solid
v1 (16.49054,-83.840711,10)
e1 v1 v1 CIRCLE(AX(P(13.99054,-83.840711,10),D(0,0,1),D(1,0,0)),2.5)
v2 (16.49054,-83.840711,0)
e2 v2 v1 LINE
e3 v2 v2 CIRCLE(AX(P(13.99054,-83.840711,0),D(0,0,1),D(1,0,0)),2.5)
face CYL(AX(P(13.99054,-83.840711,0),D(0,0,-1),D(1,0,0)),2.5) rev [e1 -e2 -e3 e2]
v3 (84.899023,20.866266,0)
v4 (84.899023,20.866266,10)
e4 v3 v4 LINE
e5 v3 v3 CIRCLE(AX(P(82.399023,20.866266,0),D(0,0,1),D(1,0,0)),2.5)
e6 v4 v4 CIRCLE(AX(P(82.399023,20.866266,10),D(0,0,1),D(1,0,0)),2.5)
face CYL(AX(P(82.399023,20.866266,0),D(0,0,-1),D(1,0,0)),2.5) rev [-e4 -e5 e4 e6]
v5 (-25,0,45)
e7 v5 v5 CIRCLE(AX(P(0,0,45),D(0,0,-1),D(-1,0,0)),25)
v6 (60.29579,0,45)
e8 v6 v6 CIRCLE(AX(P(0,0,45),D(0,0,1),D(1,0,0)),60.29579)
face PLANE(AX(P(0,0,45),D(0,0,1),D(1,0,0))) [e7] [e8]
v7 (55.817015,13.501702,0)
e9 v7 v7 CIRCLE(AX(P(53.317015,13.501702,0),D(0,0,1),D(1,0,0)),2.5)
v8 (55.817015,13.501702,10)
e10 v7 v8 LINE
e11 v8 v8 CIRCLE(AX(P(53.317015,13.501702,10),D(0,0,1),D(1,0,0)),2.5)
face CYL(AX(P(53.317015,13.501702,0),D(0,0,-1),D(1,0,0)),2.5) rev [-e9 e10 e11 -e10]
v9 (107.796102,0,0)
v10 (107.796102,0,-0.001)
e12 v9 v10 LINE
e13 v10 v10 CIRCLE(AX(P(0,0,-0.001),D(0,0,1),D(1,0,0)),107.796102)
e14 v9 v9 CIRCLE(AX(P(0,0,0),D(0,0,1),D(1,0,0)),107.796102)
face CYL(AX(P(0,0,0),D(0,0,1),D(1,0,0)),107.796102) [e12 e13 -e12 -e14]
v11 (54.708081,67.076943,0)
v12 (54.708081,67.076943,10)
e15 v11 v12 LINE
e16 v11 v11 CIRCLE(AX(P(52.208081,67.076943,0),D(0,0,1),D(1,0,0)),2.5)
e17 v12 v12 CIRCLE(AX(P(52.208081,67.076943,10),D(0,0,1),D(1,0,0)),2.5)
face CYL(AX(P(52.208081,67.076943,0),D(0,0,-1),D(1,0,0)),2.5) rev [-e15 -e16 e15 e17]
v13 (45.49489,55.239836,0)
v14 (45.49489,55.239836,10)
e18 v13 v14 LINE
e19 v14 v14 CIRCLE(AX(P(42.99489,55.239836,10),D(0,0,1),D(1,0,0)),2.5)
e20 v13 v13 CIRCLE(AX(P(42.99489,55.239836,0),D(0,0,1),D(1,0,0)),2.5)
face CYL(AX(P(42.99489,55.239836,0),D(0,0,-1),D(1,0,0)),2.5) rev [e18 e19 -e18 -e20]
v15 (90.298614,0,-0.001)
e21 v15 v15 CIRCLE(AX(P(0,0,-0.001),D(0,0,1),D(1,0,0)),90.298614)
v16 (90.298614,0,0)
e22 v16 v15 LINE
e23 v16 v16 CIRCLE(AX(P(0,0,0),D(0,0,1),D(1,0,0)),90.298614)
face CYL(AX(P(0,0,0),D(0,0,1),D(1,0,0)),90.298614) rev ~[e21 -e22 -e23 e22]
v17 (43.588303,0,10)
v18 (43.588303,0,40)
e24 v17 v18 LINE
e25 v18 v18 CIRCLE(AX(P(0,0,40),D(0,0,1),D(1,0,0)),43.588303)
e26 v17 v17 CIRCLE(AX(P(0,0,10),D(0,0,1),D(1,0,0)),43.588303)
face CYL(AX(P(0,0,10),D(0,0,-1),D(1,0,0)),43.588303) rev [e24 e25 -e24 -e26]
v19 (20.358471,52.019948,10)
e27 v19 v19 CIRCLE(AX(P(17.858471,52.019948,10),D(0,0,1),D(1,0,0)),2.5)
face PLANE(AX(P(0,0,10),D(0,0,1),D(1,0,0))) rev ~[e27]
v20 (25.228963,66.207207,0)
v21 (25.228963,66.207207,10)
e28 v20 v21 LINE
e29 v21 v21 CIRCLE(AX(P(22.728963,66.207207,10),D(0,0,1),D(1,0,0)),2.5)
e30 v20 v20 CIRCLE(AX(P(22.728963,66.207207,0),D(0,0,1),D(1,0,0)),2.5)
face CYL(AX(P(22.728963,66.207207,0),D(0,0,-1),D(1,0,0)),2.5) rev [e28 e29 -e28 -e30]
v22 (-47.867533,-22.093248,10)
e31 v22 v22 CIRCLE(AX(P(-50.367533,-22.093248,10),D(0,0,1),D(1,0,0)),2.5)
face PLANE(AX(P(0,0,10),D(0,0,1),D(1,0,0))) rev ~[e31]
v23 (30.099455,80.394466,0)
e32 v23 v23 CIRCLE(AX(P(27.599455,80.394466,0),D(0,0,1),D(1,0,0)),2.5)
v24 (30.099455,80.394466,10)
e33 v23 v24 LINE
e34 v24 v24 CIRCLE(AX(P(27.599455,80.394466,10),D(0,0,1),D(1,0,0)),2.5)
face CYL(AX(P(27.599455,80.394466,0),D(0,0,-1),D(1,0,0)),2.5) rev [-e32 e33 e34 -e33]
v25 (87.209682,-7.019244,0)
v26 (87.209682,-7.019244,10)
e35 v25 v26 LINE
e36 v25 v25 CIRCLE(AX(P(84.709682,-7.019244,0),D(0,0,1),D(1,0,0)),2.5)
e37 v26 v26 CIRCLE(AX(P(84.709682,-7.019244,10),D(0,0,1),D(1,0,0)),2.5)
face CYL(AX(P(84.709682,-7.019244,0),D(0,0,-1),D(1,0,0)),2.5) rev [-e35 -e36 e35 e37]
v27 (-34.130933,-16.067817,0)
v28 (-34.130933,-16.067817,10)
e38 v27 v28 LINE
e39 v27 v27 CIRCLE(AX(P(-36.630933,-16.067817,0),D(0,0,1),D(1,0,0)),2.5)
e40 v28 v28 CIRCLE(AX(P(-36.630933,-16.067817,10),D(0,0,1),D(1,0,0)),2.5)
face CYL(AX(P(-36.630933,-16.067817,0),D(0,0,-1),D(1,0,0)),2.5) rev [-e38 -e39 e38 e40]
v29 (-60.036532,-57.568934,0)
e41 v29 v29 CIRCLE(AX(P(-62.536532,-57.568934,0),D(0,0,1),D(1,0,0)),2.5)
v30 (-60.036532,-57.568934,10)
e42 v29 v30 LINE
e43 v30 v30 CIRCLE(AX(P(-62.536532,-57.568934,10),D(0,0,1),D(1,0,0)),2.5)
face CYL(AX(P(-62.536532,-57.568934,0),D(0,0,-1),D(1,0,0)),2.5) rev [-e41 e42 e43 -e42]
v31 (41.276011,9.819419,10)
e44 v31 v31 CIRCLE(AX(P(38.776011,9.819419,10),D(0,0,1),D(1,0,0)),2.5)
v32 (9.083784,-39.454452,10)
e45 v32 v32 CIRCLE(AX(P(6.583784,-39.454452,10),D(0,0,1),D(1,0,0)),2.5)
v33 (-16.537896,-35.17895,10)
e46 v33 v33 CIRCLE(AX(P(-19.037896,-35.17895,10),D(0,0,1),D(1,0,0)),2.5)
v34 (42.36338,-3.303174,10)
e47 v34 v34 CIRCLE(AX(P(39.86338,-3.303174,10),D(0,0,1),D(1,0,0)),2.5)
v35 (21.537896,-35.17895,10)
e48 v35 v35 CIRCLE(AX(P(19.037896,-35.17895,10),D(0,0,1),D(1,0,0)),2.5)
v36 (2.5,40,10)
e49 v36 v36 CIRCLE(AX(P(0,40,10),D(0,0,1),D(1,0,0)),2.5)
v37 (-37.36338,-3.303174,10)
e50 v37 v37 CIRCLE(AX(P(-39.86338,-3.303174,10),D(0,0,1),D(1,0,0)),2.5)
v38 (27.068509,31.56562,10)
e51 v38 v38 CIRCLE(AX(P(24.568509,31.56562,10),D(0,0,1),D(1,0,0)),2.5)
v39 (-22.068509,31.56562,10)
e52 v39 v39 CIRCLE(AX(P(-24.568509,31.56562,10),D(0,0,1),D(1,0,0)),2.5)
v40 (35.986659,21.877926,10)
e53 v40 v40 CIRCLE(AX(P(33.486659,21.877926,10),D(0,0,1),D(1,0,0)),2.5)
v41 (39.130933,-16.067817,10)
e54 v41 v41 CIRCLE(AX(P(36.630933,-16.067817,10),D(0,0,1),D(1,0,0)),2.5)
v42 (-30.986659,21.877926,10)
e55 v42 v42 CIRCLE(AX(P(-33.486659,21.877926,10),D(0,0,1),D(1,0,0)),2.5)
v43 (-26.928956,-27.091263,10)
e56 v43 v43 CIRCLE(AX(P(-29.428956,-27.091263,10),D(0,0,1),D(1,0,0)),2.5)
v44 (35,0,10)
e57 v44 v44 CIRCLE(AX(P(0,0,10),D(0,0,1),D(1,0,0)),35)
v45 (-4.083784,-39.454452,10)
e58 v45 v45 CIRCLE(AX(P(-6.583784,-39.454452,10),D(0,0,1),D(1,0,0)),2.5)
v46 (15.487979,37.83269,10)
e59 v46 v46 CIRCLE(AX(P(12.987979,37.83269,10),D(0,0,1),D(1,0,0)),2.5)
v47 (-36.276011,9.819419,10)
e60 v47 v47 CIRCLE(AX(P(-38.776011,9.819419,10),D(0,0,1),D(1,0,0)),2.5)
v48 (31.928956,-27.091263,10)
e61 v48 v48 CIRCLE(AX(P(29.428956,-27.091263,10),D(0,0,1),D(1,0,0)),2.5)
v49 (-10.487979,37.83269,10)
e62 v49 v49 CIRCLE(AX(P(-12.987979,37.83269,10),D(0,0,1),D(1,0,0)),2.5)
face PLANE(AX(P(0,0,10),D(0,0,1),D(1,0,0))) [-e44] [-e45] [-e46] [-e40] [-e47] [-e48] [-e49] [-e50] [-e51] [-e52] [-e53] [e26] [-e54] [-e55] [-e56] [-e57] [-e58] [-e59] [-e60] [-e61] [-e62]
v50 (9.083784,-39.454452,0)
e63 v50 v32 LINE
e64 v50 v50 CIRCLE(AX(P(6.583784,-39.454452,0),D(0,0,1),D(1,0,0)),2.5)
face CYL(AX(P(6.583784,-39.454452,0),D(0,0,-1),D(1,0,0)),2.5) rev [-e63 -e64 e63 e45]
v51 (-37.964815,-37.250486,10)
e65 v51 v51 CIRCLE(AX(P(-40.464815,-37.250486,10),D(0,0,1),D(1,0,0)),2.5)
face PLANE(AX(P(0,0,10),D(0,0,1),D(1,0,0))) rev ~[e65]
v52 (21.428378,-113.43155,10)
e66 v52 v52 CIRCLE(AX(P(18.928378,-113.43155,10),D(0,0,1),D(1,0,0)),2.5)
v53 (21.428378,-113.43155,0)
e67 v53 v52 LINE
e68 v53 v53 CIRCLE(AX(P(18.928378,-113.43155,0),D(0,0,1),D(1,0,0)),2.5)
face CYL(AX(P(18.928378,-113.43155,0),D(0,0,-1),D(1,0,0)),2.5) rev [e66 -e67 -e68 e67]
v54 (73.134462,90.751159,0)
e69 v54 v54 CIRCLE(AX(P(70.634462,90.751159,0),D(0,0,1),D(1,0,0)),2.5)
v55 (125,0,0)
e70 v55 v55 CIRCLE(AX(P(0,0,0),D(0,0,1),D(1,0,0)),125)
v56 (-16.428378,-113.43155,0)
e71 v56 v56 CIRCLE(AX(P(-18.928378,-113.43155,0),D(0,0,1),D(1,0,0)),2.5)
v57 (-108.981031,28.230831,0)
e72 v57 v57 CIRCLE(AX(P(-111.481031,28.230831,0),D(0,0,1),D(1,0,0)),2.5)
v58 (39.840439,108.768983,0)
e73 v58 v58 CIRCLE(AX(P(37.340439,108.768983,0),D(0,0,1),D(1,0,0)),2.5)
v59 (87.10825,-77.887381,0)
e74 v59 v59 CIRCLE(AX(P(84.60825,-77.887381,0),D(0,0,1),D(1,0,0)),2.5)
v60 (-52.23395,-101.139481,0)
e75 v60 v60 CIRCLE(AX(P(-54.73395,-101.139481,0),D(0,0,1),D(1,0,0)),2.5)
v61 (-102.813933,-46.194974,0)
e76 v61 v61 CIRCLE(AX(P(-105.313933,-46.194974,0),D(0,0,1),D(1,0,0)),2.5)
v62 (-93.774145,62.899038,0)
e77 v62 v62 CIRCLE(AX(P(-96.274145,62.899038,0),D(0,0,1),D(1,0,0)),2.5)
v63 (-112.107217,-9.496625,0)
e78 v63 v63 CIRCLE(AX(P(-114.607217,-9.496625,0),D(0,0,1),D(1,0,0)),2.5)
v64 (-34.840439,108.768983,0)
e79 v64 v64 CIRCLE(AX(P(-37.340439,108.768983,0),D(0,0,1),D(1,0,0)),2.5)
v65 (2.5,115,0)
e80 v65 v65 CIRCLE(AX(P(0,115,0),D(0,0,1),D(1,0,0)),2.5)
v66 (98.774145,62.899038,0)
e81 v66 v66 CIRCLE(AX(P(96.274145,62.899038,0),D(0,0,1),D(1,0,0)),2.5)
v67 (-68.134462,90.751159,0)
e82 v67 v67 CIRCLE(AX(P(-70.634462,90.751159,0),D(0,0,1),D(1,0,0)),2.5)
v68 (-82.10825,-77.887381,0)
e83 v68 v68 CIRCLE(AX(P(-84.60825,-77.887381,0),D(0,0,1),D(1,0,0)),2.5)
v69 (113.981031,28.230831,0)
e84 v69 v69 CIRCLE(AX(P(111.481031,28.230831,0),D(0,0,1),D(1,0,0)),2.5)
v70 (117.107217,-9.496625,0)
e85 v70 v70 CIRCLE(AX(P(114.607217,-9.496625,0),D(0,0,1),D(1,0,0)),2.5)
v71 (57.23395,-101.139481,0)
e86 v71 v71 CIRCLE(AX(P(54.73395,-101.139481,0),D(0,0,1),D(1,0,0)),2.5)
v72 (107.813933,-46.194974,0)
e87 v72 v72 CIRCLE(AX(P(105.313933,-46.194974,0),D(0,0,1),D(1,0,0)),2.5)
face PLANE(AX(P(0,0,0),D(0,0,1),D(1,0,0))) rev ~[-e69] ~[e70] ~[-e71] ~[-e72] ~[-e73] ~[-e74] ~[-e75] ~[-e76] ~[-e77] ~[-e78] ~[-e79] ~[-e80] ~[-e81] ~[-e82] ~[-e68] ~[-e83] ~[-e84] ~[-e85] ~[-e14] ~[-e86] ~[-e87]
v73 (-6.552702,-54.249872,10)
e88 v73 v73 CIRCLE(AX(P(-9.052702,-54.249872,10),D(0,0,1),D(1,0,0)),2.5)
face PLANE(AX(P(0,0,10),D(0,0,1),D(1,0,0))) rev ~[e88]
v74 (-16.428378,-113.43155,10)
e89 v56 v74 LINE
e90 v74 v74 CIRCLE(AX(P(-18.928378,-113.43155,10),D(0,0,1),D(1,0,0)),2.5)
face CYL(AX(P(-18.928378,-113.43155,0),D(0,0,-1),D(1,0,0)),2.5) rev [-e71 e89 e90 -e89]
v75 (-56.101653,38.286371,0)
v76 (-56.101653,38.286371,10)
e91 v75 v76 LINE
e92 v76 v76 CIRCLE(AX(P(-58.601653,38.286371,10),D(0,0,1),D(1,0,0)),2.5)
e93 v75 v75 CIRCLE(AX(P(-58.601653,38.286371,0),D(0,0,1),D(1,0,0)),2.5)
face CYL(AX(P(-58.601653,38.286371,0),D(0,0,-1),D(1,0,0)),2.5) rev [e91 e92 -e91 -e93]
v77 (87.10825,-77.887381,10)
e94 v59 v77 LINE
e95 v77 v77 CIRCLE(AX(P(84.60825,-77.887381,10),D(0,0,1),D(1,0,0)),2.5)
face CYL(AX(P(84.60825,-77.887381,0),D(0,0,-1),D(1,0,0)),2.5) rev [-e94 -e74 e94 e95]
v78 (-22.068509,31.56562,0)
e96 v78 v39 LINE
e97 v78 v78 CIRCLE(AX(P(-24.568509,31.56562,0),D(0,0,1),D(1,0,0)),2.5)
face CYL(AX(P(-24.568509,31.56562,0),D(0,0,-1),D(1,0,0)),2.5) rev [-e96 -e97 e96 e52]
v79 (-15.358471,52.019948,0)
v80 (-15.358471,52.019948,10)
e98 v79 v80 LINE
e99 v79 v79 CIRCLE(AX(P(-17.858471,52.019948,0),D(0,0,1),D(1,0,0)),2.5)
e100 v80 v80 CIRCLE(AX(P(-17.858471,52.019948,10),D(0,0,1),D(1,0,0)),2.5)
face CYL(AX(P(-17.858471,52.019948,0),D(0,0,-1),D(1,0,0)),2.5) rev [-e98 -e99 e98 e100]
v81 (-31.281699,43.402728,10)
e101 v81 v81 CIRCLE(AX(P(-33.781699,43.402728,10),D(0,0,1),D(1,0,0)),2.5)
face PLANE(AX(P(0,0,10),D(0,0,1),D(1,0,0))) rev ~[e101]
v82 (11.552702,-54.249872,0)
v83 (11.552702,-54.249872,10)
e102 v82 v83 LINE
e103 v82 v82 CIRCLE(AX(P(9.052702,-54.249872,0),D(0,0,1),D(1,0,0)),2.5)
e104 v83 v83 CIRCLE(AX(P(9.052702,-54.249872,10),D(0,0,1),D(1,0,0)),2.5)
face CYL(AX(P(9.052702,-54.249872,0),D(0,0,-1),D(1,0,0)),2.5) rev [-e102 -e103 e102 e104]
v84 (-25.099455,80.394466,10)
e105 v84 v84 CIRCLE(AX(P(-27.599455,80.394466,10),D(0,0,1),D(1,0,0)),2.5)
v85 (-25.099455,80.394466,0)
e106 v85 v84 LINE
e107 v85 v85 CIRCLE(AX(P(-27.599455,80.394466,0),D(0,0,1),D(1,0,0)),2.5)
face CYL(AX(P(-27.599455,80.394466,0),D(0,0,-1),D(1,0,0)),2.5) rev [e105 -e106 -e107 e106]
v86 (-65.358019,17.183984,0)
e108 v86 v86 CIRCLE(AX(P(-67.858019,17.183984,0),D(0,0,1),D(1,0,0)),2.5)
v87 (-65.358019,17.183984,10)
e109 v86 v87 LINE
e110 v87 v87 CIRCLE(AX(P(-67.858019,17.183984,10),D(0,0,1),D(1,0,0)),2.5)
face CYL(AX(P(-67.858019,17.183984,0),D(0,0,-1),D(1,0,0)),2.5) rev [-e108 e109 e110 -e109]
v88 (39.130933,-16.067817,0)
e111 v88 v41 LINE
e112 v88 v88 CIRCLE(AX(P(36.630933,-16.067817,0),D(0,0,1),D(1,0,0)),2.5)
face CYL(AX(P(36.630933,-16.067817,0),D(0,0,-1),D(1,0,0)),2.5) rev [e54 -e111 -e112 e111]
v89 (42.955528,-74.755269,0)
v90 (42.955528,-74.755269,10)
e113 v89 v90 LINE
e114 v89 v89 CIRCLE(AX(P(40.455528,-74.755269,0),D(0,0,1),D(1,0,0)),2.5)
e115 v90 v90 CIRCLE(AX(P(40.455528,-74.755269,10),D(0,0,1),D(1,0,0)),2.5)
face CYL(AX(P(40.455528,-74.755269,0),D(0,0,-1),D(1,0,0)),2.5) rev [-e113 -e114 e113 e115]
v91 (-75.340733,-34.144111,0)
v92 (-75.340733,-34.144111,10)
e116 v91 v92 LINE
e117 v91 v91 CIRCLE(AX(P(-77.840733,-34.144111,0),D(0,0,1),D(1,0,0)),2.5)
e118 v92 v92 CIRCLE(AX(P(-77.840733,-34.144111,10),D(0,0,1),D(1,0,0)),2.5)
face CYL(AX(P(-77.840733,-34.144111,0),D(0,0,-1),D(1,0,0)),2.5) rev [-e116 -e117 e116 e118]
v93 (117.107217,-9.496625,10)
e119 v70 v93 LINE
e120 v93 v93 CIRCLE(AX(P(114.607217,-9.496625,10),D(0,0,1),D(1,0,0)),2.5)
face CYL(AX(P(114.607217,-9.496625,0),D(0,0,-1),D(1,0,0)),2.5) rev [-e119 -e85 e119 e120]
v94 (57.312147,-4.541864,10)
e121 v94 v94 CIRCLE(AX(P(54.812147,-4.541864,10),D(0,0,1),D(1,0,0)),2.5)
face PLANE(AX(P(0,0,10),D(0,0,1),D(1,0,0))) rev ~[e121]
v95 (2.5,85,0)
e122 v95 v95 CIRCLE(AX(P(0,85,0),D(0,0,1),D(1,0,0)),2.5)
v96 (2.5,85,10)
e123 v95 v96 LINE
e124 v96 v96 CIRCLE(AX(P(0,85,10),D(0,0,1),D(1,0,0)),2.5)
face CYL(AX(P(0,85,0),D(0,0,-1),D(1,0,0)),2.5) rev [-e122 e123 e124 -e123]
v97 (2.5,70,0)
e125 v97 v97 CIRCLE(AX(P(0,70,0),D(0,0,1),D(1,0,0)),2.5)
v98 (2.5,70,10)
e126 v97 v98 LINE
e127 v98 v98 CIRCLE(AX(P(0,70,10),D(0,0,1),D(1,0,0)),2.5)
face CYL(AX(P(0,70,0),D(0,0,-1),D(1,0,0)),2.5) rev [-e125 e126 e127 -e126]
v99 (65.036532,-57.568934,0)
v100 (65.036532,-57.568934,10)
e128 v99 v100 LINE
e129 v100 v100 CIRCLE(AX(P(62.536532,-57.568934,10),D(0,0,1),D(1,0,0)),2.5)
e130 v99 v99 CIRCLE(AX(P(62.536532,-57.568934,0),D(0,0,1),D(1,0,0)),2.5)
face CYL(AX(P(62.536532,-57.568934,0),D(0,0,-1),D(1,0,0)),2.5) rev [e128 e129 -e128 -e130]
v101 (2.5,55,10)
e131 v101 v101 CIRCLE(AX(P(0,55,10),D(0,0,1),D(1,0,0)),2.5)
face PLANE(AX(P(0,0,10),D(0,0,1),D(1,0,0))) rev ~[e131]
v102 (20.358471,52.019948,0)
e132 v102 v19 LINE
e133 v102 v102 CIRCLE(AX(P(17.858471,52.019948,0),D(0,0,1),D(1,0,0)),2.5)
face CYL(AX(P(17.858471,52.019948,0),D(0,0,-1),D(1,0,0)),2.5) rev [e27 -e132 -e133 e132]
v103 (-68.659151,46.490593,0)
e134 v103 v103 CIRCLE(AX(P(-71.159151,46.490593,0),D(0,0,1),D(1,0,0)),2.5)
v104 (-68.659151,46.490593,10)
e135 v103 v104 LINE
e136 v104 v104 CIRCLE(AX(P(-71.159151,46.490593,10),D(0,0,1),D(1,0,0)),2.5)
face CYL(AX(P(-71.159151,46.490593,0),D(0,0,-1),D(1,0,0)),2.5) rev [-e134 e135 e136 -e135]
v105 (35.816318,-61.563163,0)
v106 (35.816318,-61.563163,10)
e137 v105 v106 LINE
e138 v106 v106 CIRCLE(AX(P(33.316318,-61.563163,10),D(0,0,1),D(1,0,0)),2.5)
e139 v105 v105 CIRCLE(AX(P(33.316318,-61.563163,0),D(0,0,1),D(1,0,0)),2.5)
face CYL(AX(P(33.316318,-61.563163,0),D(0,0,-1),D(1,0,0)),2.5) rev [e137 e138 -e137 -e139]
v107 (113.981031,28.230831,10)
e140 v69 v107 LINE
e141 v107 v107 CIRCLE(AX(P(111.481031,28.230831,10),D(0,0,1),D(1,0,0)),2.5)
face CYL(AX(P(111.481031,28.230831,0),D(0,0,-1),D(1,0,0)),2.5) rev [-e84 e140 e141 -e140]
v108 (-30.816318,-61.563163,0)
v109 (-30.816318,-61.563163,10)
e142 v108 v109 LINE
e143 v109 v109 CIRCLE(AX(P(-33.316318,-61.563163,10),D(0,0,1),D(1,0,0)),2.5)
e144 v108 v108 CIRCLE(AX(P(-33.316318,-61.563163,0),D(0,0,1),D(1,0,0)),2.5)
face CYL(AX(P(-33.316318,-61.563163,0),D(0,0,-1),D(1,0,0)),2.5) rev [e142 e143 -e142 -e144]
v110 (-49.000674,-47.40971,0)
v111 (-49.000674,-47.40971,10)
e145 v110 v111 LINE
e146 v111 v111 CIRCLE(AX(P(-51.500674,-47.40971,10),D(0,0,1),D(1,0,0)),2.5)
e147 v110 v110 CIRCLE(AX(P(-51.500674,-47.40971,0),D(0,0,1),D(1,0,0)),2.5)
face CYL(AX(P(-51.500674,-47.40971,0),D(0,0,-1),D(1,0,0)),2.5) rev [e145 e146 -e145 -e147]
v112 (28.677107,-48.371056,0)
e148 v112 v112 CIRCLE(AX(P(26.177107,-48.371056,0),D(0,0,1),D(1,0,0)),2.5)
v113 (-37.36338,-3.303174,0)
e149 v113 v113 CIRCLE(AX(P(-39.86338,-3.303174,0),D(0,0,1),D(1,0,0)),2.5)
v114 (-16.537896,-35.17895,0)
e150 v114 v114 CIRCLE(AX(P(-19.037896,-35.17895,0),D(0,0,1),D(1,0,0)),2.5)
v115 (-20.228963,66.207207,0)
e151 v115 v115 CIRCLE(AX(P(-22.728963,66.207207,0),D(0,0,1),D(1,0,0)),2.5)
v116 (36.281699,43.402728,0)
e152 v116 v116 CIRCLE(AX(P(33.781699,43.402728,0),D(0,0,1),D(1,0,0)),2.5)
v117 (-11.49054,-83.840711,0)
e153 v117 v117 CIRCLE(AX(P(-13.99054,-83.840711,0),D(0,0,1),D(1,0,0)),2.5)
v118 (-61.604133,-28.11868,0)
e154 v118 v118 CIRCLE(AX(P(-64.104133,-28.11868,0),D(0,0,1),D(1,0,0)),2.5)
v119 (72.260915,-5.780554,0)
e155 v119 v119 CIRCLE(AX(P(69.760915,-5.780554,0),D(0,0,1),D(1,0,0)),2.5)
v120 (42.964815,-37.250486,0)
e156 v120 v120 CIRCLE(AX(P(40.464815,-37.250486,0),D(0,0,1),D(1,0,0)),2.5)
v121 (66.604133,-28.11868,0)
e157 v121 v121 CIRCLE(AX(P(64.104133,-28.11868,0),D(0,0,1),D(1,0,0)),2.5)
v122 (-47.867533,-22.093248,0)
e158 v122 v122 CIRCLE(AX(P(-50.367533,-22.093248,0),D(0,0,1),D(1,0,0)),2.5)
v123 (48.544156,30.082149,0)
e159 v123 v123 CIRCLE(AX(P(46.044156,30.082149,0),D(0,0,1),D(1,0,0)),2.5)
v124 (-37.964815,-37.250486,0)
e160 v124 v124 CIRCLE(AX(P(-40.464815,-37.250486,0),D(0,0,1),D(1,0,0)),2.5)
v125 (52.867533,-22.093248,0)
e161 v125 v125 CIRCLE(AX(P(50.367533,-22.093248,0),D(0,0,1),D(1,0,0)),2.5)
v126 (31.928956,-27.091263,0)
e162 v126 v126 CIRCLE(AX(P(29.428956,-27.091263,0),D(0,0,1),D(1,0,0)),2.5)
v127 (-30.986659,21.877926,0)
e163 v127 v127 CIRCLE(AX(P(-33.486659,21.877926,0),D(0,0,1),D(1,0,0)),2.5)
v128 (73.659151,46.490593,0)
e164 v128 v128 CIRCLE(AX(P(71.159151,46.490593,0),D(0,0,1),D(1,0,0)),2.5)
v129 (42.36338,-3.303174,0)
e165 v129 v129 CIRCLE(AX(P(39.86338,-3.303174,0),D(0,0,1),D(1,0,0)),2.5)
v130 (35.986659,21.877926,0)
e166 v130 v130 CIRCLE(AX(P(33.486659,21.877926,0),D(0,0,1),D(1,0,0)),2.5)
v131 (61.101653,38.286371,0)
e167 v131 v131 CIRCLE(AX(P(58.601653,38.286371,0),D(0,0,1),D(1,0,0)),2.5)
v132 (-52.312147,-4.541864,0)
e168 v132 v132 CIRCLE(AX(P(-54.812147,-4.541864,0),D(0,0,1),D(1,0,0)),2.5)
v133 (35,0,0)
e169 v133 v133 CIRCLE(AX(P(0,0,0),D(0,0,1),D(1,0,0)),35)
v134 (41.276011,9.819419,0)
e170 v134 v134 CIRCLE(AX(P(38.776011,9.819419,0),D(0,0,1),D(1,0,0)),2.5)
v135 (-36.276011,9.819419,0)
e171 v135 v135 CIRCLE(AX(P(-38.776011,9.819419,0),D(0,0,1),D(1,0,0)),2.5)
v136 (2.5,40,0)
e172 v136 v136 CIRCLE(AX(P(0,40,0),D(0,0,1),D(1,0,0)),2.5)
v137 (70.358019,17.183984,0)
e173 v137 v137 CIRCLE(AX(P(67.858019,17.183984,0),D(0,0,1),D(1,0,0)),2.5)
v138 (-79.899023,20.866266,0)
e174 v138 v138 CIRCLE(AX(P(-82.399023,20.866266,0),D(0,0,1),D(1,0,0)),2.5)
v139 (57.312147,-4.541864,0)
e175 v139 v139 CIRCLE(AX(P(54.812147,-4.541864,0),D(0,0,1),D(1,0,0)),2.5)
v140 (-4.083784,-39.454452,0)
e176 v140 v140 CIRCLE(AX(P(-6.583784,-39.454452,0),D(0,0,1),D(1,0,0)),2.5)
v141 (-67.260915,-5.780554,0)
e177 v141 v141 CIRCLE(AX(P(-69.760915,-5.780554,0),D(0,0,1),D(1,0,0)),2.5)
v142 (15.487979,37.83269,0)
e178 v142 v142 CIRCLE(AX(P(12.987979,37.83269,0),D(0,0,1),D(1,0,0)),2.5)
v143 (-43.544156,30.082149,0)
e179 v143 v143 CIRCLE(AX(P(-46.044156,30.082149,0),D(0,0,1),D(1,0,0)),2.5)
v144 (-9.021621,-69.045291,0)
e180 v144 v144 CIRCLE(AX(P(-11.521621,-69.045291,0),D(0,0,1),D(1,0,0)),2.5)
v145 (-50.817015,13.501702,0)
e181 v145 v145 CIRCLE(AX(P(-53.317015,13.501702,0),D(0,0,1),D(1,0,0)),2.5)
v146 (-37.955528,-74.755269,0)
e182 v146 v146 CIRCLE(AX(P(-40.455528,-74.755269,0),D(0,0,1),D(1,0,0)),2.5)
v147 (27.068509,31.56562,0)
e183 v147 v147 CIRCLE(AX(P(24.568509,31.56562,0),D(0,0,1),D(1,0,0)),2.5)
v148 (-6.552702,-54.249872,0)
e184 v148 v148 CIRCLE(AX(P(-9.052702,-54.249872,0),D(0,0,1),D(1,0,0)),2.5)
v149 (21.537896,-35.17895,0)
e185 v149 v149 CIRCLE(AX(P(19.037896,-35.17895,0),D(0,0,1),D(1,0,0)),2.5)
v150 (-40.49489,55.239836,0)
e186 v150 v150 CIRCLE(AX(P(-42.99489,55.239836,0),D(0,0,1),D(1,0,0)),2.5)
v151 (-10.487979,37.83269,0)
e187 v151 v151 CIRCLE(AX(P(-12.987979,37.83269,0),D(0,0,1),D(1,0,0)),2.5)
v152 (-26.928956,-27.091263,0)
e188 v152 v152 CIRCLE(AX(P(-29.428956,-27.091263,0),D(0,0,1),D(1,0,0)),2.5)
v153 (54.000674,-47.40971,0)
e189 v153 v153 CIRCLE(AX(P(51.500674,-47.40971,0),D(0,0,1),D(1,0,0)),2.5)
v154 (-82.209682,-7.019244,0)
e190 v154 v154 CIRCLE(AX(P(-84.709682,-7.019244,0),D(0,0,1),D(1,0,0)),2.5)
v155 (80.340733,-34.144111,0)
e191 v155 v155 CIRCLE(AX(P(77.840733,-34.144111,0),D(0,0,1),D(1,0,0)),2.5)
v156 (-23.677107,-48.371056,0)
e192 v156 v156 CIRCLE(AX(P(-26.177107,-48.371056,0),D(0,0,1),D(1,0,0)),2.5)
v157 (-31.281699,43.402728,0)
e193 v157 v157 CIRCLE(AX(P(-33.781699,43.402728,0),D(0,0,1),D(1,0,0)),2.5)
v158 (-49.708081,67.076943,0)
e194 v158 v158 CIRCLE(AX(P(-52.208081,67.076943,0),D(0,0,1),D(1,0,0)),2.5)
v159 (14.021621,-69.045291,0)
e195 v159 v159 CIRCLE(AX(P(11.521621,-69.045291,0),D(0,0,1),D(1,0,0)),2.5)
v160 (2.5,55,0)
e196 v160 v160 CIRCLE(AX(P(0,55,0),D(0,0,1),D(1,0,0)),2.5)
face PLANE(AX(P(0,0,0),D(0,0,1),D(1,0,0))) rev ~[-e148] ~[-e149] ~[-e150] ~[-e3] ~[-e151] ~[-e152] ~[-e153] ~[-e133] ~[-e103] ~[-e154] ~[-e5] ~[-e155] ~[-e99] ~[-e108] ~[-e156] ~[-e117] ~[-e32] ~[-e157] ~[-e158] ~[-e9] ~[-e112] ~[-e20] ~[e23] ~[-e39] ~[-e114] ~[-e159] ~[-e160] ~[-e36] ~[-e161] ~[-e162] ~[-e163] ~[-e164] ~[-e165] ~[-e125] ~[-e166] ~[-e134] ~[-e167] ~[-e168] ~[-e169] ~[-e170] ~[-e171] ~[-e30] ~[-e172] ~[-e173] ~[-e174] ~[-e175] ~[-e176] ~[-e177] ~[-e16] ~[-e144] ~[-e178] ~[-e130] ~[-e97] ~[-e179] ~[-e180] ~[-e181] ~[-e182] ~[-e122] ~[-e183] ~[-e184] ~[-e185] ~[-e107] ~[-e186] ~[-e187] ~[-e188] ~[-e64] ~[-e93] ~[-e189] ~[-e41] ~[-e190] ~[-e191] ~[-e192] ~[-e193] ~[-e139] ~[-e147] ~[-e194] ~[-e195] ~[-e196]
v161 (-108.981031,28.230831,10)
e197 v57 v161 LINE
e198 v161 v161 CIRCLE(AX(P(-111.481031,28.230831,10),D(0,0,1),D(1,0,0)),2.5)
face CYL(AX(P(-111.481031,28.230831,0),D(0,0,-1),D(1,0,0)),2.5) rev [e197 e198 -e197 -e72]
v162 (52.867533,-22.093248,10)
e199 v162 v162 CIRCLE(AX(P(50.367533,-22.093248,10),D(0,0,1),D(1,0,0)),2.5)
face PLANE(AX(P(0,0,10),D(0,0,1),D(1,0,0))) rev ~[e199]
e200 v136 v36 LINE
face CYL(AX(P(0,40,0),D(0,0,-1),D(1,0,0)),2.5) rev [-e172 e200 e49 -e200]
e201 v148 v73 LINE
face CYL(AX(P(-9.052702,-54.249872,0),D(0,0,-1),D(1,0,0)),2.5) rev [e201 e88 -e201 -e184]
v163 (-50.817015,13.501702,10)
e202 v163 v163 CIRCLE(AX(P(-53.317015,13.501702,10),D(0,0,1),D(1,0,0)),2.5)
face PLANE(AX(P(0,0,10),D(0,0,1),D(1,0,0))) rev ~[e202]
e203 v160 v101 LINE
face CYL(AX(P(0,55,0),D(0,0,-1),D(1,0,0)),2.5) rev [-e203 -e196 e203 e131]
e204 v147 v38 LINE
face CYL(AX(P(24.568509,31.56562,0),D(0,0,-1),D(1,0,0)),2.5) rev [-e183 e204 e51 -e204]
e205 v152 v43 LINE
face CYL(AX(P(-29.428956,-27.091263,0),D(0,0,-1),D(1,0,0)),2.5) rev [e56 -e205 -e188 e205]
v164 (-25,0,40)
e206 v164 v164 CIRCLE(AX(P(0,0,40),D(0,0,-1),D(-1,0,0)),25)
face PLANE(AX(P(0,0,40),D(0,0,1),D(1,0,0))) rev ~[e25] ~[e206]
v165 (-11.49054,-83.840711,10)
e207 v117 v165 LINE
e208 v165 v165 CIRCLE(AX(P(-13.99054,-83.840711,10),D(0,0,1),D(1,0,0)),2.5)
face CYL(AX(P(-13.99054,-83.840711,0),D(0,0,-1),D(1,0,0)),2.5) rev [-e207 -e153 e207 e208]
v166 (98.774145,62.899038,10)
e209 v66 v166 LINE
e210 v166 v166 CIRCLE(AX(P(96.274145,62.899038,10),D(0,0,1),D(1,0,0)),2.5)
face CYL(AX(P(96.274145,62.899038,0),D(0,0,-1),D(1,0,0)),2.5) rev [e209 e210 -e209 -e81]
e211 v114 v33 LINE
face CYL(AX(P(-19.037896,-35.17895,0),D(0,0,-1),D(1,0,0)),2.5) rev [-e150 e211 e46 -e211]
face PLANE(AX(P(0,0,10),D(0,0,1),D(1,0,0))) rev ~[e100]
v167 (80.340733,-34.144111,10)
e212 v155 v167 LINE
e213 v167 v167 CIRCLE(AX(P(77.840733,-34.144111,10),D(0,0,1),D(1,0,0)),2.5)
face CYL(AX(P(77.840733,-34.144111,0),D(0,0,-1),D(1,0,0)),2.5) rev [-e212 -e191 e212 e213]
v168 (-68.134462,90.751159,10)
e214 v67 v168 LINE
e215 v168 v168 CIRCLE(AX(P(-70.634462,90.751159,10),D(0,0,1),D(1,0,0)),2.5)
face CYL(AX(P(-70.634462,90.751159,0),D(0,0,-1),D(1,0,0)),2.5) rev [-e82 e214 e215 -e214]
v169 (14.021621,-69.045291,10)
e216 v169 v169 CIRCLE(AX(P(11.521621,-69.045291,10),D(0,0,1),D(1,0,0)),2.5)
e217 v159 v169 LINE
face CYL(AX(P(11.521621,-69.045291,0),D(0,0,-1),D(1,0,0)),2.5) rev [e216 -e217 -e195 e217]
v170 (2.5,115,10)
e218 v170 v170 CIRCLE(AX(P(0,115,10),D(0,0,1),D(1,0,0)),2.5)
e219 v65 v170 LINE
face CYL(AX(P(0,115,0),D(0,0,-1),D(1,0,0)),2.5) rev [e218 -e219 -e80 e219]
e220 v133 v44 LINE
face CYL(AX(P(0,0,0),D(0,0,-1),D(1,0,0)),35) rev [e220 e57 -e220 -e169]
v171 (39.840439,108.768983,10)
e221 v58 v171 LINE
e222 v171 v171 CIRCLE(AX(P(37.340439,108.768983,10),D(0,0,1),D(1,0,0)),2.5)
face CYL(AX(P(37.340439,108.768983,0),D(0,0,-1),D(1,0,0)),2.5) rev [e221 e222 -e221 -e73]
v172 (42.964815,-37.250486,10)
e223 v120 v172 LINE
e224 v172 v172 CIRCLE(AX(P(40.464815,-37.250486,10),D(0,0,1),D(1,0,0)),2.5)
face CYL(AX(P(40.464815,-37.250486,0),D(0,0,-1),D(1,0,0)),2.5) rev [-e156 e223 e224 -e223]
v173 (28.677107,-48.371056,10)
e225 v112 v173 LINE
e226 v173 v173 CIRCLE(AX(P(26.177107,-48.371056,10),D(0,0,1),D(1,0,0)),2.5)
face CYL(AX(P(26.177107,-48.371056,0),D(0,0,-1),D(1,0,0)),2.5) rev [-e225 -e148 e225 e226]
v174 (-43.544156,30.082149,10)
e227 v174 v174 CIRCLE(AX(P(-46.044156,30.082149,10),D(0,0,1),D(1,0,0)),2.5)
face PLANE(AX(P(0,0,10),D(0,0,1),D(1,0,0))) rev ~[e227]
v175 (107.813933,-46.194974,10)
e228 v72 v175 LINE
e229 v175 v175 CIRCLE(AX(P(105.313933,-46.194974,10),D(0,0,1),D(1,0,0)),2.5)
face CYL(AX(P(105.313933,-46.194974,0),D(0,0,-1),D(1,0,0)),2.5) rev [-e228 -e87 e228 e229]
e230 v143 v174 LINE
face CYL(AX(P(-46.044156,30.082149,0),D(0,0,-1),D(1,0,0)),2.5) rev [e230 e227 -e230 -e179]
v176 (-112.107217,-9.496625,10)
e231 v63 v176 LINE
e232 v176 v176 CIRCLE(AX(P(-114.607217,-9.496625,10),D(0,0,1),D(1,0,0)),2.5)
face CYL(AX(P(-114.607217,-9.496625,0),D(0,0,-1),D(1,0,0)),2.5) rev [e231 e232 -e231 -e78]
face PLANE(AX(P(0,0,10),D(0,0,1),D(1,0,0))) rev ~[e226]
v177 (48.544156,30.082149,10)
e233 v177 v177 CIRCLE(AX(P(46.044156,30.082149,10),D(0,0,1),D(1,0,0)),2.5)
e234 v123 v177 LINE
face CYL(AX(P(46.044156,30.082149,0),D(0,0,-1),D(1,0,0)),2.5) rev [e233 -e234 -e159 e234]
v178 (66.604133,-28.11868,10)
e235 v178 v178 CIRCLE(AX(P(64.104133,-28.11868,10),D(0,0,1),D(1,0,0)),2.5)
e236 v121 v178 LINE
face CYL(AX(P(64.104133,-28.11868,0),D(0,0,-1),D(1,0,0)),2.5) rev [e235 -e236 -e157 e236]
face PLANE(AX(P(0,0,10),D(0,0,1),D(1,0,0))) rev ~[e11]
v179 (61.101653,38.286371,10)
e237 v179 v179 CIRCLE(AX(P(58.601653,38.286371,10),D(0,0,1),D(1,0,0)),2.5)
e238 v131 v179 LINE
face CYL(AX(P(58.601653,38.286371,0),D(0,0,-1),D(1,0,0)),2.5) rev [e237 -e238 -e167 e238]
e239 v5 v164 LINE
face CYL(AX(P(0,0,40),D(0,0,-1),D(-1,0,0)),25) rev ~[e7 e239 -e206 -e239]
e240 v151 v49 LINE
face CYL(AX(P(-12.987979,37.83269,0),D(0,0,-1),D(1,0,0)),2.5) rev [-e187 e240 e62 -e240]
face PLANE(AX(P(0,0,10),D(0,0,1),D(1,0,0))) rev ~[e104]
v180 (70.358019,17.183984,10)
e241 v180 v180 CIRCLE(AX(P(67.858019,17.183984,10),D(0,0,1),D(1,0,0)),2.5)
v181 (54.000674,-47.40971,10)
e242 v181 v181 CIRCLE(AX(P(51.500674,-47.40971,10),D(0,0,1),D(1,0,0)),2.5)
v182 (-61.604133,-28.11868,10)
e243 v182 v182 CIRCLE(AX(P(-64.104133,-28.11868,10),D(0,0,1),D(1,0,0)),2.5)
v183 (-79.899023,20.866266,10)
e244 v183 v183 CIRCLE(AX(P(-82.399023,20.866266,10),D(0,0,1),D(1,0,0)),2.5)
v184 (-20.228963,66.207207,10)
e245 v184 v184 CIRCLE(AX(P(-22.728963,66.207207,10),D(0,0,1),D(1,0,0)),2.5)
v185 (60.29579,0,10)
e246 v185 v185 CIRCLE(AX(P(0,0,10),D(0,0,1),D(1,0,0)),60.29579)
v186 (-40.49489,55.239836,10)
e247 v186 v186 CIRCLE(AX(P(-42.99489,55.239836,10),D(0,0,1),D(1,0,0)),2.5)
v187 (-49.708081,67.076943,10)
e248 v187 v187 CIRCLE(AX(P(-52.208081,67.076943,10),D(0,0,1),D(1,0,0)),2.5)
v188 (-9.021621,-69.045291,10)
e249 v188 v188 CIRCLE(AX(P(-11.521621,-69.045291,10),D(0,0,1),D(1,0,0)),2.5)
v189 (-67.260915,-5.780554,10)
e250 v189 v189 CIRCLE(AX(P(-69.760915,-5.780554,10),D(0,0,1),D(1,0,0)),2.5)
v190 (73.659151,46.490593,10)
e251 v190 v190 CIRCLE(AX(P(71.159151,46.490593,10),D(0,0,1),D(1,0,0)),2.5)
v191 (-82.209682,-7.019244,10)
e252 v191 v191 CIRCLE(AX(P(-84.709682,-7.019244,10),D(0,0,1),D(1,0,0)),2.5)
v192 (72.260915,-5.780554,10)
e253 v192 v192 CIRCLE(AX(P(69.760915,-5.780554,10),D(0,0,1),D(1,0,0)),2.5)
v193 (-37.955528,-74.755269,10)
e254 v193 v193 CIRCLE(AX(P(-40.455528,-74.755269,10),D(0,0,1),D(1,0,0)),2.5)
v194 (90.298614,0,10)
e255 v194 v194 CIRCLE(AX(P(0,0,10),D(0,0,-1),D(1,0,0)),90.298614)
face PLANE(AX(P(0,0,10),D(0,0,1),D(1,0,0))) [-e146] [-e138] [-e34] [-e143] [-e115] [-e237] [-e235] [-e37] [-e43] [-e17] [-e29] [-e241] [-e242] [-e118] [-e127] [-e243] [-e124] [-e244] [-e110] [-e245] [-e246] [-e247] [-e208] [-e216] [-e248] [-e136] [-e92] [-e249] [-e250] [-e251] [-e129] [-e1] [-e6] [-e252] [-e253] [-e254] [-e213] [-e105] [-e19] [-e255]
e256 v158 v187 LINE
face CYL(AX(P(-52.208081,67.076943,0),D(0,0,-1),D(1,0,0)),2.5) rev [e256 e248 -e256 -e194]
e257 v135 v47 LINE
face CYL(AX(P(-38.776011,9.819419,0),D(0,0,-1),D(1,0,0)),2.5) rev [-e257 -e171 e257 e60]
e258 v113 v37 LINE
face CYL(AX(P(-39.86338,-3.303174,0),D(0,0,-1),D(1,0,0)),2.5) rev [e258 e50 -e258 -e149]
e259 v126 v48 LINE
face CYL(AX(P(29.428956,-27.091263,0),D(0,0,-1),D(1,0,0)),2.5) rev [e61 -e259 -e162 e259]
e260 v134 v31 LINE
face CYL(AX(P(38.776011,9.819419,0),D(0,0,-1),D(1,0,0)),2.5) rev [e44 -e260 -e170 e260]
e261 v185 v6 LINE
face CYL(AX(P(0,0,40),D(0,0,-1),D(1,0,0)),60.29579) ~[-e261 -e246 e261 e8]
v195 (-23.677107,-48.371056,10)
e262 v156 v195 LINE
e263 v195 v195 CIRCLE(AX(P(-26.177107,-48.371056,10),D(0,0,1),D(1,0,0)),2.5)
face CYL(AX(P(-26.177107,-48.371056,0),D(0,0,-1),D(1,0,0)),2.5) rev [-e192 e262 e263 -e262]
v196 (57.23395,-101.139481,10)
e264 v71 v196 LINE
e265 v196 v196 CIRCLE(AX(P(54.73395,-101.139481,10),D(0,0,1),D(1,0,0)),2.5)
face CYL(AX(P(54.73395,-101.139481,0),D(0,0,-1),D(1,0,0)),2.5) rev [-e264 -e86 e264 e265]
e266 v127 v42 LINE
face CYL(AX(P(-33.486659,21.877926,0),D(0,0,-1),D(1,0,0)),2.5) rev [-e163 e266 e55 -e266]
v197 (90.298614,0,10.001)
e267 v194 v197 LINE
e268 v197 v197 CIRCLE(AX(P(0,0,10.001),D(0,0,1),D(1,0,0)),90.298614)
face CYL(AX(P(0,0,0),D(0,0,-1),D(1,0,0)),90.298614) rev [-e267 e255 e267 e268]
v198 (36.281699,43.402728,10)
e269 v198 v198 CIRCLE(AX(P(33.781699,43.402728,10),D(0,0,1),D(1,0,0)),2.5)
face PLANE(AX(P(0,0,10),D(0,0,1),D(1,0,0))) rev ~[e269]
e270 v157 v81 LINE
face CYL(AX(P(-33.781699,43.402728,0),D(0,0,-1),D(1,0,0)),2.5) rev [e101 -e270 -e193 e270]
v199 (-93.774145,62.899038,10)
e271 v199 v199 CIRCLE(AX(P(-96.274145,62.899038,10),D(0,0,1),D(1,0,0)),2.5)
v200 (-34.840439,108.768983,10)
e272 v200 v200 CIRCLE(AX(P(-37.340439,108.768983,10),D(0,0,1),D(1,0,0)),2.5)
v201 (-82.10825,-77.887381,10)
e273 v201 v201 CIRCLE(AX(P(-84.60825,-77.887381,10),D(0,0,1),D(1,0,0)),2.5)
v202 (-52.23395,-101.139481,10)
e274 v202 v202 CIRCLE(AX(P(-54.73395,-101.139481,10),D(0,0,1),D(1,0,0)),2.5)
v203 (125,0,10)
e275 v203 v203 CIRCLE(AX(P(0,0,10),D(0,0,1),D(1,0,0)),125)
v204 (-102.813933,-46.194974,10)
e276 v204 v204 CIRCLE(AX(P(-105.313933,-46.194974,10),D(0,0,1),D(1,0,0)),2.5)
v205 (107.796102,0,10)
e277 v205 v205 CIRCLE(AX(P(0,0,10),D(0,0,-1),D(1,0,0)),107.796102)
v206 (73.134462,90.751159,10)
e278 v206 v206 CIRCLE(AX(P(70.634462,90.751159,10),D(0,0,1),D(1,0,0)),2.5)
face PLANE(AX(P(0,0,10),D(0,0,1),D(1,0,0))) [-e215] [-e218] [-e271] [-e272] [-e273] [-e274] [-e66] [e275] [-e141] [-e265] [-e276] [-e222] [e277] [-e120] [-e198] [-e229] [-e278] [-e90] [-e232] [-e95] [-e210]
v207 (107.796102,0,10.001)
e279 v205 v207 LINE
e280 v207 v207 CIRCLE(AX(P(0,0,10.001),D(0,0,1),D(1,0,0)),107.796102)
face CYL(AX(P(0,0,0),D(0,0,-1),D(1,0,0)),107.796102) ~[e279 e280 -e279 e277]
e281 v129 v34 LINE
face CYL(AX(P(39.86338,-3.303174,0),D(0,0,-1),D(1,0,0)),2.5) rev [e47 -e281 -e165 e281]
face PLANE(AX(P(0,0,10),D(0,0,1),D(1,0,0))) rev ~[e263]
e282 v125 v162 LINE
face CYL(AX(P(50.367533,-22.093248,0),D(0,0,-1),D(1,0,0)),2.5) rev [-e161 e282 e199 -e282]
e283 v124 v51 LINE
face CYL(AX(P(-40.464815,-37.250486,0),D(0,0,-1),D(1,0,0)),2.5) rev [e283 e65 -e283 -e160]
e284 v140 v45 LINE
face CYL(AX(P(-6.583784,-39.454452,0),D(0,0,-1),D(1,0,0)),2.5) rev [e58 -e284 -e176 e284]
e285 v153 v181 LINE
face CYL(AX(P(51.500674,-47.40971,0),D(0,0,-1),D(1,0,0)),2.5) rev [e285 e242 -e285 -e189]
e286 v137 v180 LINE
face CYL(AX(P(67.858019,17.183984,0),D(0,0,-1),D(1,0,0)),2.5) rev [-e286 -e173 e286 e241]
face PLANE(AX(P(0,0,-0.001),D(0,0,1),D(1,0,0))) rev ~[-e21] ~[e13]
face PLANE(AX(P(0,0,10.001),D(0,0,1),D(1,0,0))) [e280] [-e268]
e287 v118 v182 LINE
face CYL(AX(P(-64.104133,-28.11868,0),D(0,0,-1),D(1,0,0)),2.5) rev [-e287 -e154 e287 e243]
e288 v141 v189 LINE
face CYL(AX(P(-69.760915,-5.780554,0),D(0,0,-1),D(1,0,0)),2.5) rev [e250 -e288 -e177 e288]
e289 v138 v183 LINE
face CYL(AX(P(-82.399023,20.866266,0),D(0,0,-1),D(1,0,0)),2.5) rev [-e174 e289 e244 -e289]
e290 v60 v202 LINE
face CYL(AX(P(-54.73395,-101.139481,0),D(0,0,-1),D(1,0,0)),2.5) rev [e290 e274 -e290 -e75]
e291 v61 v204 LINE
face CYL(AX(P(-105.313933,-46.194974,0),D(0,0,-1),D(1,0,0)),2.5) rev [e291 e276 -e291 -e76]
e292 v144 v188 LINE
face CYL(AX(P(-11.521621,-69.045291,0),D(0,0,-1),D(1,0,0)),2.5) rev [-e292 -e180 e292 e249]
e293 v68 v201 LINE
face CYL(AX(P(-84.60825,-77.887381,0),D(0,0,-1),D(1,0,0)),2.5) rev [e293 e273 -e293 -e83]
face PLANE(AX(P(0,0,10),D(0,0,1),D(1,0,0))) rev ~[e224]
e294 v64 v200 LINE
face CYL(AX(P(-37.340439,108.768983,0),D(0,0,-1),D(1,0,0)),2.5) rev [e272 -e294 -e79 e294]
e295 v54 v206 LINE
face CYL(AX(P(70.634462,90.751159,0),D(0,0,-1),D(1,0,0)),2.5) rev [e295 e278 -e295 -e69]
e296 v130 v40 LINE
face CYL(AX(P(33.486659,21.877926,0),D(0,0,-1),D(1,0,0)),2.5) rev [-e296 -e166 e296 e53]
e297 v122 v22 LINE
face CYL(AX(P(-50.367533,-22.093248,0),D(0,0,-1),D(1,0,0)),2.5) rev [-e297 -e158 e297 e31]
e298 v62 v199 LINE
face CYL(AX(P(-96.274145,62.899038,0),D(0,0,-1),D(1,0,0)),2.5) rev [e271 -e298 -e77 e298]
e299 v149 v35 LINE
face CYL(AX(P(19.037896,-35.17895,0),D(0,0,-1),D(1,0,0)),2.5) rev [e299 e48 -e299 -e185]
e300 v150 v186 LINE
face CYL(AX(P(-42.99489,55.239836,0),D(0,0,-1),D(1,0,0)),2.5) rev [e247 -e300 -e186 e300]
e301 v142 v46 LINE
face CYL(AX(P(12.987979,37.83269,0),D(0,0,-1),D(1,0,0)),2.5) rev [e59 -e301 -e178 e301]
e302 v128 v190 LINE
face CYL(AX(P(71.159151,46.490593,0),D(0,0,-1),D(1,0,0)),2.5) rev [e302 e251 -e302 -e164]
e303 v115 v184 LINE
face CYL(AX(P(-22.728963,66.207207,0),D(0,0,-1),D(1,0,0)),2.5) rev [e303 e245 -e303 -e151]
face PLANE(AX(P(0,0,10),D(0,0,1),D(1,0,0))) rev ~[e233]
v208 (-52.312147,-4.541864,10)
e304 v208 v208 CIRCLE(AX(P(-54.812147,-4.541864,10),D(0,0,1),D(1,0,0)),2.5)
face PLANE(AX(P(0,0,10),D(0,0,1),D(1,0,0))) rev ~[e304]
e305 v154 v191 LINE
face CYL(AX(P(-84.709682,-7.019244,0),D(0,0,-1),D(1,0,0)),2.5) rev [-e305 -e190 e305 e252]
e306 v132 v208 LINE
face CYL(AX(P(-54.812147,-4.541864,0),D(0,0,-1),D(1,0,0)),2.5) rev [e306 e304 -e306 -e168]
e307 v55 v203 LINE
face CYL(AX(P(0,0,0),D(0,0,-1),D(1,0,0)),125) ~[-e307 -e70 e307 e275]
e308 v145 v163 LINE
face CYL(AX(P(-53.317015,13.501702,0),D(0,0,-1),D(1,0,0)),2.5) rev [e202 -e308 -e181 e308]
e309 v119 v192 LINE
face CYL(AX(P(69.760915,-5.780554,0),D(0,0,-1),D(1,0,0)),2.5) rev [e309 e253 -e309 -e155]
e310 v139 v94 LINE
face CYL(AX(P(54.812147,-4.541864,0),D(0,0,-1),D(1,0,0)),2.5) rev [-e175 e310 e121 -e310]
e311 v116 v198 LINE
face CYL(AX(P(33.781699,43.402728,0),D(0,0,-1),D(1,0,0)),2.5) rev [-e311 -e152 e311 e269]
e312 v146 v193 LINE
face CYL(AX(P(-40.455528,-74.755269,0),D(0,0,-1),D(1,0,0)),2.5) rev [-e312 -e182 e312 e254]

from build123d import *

# Parameters (mm, degrees)
SKETCH1_R                = 125
SKETCH1_R_2              = 35
SKETCH1_R_3              = 2.5
BOSS_EXTRUDE1_DEPTH      = 10
SKETCH2_R                = 60.29579013
SKETCH2_R_2              = 43.588302538
BOSS_EXTRUDE2_DEPTH      = 30
SKETCH3_R                = 60.29579013
BOSS_EXTRUDE3_DEPTH      = 5
SKETCH4_R                = 25
CUT_EXTRUDE2_DEPTH       = 47.5
SKETCH5_R                = 107.79610162
SKETCH5_R_2              = 90.298614491
BOSS_EXTRUDE4_DEPTH      = 10.001
BOSS_EXTRUDE4_DEPTH_BACK = 0.001


with BuildPart() as part:
    # Sketch1 → Boss-Extrude1 (new body)
    with BuildSketch(Plane.XY):
        Circle(SKETCH1_R)
        Circle(SKETCH1_R_2, mode=Mode.SUBTRACT)
        with Locations((0, 40)):
            Circle(SKETCH1_R_3, mode=Mode.SUBTRACT)
        with Locations((0, 55)):
            Circle(SKETCH1_R_3, mode=Mode.SUBTRACT)
        with Locations((0, 70)):
            Circle(SKETCH1_R_3, mode=Mode.SUBTRACT)
        with Locations((0, 85)):
            Circle(SKETCH1_R_3, mode=Mode.SUBTRACT)
        with Locations((0, 100)):
            Circle(SKETCH1_R_3, mode=Mode.SUBTRACT)
        with Locations((0, 115)):
            Circle(SKETCH1_R_3, mode=Mode.SUBTRACT)
        with Locations((37.340438959, 108.768982796)):
            Circle(SKETCH1_R_3, mode=Mode.SUBTRACT)
        with Locations((32.46994692, 94.58172417)):
            Circle(SKETCH1_R_3, mode=Mode.SUBTRACT)
        with Locations((27.599454882, 80.394465545)):
            Circle(SKETCH1_R_3, mode=Mode.SUBTRACT)
        with Locations((22.728962844, 66.207206919)):
            Circle(SKETCH1_R_3, mode=Mode.SUBTRACT)
        with Locations((17.858470806, 52.019948294)):
            Circle(SKETCH1_R_3, mode=Mode.SUBTRACT)
        with Locations((12.987978768, 37.832689668)):
            Circle(SKETCH1_R_3, mode=Mode.SUBTRACT)
        with Locations((70.634461959, 90.751158581)):
            Circle(SKETCH1_R_3, mode=Mode.SUBTRACT)
        with Locations((61.421271269, 78.91405094)):
            Circle(SKETCH1_R_3, mode=Mode.SUBTRACT)
        with Locations((52.208080579, 67.076943299)):
            Circle(SKETCH1_R_3, mode=Mode.SUBTRACT)
        with Locations((42.994889888, 55.239835658)):
            Circle(SKETCH1_R_3, mode=Mode.SUBTRACT)
        with Locations((33.781699198, 43.402728017)):
            Circle(SKETCH1_R_3, mode=Mode.SUBTRACT)
        with Locations((24.568508508, 31.565620376)):
            Circle(SKETCH1_R_3, mode=Mode.SUBTRACT)
        with Locations((96.274145, 62.899038184)):
            Circle(SKETCH1_R_3, mode=Mode.SUBTRACT)
        with Locations((83.716647826, 54.694815812)):
            Circle(SKETCH1_R_3, mode=Mode.SUBTRACT)
        with Locations((71.159150652, 46.49059344)):
            Circle(SKETCH1_R_3, mode=Mode.SUBTRACT)
        with Locations((58.601653478, 38.286371069)):
            Circle(SKETCH1_R_3, mode=Mode.SUBTRACT)
        with Locations((46.044156304, 30.082148697)):
            Circle(SKETCH1_R_3, mode=Mode.SUBTRACT)
        with Locations((33.486659131, 21.877926325)):
            Circle(SKETCH1_R_3, mode=Mode.SUBTRACT)
        with Locations((111.481030583, 28.230831021)):
            Circle(SKETCH1_R_3, mode=Mode.SUBTRACT)
        with Locations((96.940026594, 24.548548714)):
            Circle(SKETCH1_R_3, mode=Mode.SUBTRACT)
        with Locations((82.399022605, 20.866266407)):
            Circle(SKETCH1_R_3, mode=Mode.SUBTRACT)
        with Locations((67.858018616, 17.1839841)):
            Circle(SKETCH1_R_3, mode=Mode.SUBTRACT)
        with Locations((53.317014627, 13.501701793)):
            Circle(SKETCH1_R_3, mode=Mode.SUBTRACT)
        with Locations((38.776010638, 9.819419486)):
            Circle(SKETCH1_R_3, mode=Mode.SUBTRACT)
        with Locations((114.607216696, -9.496624729)):
            Circle(SKETCH1_R_3, mode=Mode.SUBTRACT)
        with Locations((99.658449301, -8.257934547)):
            Circle(SKETCH1_R_3, mode=Mode.SUBTRACT)
        with Locations((84.709681906, -7.019244365)):
            Circle(SKETCH1_R_3, mode=Mode.SUBTRACT)
        with Locations((69.76091451, -5.780554183)):
            Circle(SKETCH1_R_3, mode=Mode.SUBTRACT)
        with Locations((54.812147115, -4.541864001)):
            Circle(SKETCH1_R_3, mode=Mode.SUBTRACT)
        with Locations((39.86337972, -3.303173819)):
            Circle(SKETCH1_R_3, mode=Mode.SUBTRACT)
        with Locations((105.313932565, -46.194973835)):
            Circle(SKETCH1_R_3, mode=Mode.SUBTRACT)
        with Locations((91.577332666, -40.169542465)):
            Circle(SKETCH1_R_3, mode=Mode.SUBTRACT)
        with Locations((77.840732766, -34.144111095)):
            Circle(SKETCH1_R_3, mode=Mode.SUBTRACT)
        with Locations((64.104132866, -28.118679726)):
            Circle(SKETCH1_R_3, mode=Mode.SUBTRACT)
        with Locations((50.367532966, -22.093248356)):
            Circle(SKETCH1_R_3, mode=Mode.SUBTRACT)
        with Locations((36.630933066, -16.067816986)):
            Circle(SKETCH1_R_3, mode=Mode.SUBTRACT)
        with Locations((84.608249727, -77.887380737)):
            Circle(SKETCH1_R_3, mode=Mode.SUBTRACT)
        with Locations((73.572391067, -67.728157163)):
            Circle(SKETCH1_R_3, mode=Mode.SUBTRACT)
        with Locations((62.536532407, -57.568933588)):
            Circle(SKETCH1_R_3, mode=Mode.SUBTRACT)
        with Locations((51.500673747, -47.409710014)):
            Circle(SKETCH1_R_3, mode=Mode.SUBTRACT)
        with Locations((40.464815087, -37.250486439)):
            Circle(SKETCH1_R_3, mode=Mode.SUBTRACT)
        with Locations((29.428956427, -27.091262865)):
            Circle(SKETCH1_R_3, mode=Mode.SUBTRACT)
        with Locations((54.733950199, -101.139481389)):
            Circle(SKETCH1_R_3, mode=Mode.SUBTRACT)
        with Locations((47.594739304, -87.947375121)):
            Circle(SKETCH1_R_3, mode=Mode.SUBTRACT)
        with Locations((40.455528408, -74.755268853)):
            Circle(SKETCH1_R_3, mode=Mode.SUBTRACT)
        with Locations((33.316317513, -61.563162584)):
            Circle(SKETCH1_R_3, mode=Mode.SUBTRACT)
        with Locations((26.177106617, -48.371056316)):
            Circle(SKETCH1_R_3, mode=Mode.SUBTRACT)
        with Locations((19.037895722, -35.178950048)):
            Circle(SKETCH1_R_3, mode=Mode.SUBTRACT)
        with Locations((18.928377882, -113.431549891)):
            Circle(SKETCH1_R_3, mode=Mode.SUBTRACT)
        with Locations((16.459459028, -98.63613034)):
            Circle(SKETCH1_R_3, mode=Mode.SUBTRACT)
        with Locations((13.990540174, -83.840710789)):
            Circle(SKETCH1_R_3, mode=Mode.SUBTRACT)
        with Locations((11.52162132, -69.045291238)):
            Circle(SKETCH1_R_3, mode=Mode.SUBTRACT)
        with Locations((9.052702465, -54.249871687)):
            Circle(SKETCH1_R_3, mode=Mode.SUBTRACT)
        with Locations((6.583783611, -39.454452136)):
            Circle(SKETCH1_R_3, mode=Mode.SUBTRACT)
        with Locations((-18.928377882, -113.431549891)):
            Circle(SKETCH1_R_3, mode=Mode.SUBTRACT)
        with Locations((-16.459459028, -98.63613034)):
            Circle(SKETCH1_R_3, mode=Mode.SUBTRACT)
        with Locations((-13.990540174, -83.840710789)):
            Circle(SKETCH1_R_3, mode=Mode.SUBTRACT)
        with Locations((-11.52162132, -69.045291238)):
            Circle(SKETCH1_R_3, mode=Mode.SUBTRACT)
        with Locations((-9.052702465, -54.249871687)):
            Circle(SKETCH1_R_3, mode=Mode.SUBTRACT)
        with Locations((-6.583783611, -39.454452136)):
            Circle(SKETCH1_R_3, mode=Mode.SUBTRACT)
        with Locations((-54.733950199, -101.139481389)):
            Circle(SKETCH1_R_3, mode=Mode.SUBTRACT)
        with Locations((-47.594739304, -87.947375121)):
            Circle(SKETCH1_R_3, mode=Mode.SUBTRACT)
        with Locations((-40.455528408, -74.755268853)):
            Circle(SKETCH1_R_3, mode=Mode.SUBTRACT)
        with Locations((-33.316317513, -61.563162584)):
            Circle(SKETCH1_R_3, mode=Mode.SUBTRACT)
        with Locations((-26.177106617, -48.371056316)):
            Circle(SKETCH1_R_3, mode=Mode.SUBTRACT)
        with Locations((-19.037895721, -35.178950048)):
            Circle(SKETCH1_R_3, mode=Mode.SUBTRACT)
        with Locations((-84.608249727, -77.887380737)):
            Circle(SKETCH1_R_3, mode=Mode.SUBTRACT)
        with Locations((-73.572391067, -67.728157163)):
            Circle(SKETCH1_R_3, mode=Mode.SUBTRACT)
        with Locations((-62.536532407, -57.568933588)):
            Circle(SKETCH1_R_3, mode=Mode.SUBTRACT)
        with Locations((-51.500673747, -47.409710014)):
            Circle(SKETCH1_R_3, mode=Mode.SUBTRACT)
        with Locations((-40.464815087, -37.250486439)):
            Circle(SKETCH1_R_3, mode=Mode.SUBTRACT)
        with Locations((-29.428956427, -27.091262865)):
            Circle(SKETCH1_R_3, mode=Mode.SUBTRACT)
        with Locations((-105.313932565, -46.194973835)):
            Circle(SKETCH1_R_3, mode=Mode.SUBTRACT)
        with Locations((-91.577332665, -40.169542465)):
            Circle(SKETCH1_R_3, mode=Mode.SUBTRACT)
        with Locations((-77.840732766, -34.144111096)):
            Circle(SKETCH1_R_3, mode=Mode.SUBTRACT)
        with Locations((-64.104132866, -28.118679726)):
            Circle(SKETCH1_R_3, mode=Mode.SUBTRACT)
        with Locations((-50.367532966, -22.093248356)):
            Circle(SKETCH1_R_3, mode=Mode.SUBTRACT)
        with Locations((-36.630933066, -16.067816986)):
            Circle(SKETCH1_R_3, mode=Mode.SUBTRACT)
        with Locations((-114.607216696, -9.496624729)):
            Circle(SKETCH1_R_3, mode=Mode.SUBTRACT)
        with Locations((-99.658449301, -8.257934547)):
            Circle(SKETCH1_R_3, mode=Mode.SUBTRACT)
        with Locations((-84.709681906, -7.019244365)):
            Circle(SKETCH1_R_3, mode=Mode.SUBTRACT)
        with Locations((-69.76091451, -5.780554183)):
            Circle(SKETCH1_R_3, mode=Mode.SUBTRACT)
        with Locations((-54.812147115, -4.541864001)):
            Circle(SKETCH1_R_3, mode=Mode.SUBTRACT)
        with Locations((-39.86337972, -3.303173819)):
            Circle(SKETCH1_R_3, mode=Mode.SUBTRACT)
        with Locations((-111.481030583, 28.230831021)):
            Circle(SKETCH1_R_3, mode=Mode.SUBTRACT)
        with Locations((-96.940026594, 24.548548714)):
            Circle(SKETCH1_R_3, mode=Mode.SUBTRACT)
        with Locations((-82.399022605, 20.866266407)):
            Circle(SKETCH1_R_3, mode=Mode.SUBTRACT)
        with Locations((-67.858018616, 17.1839841)):
            Circle(SKETCH1_R_3, mode=Mode.SUBTRACT)
        with Locations((-53.317014627, 13.501701793)):
            Circle(SKETCH1_R_3, mode=Mode.SUBTRACT)
        with Locations((-38.776010638, 9.819419486)):
            Circle(SKETCH1_R_3, mode=Mode.SUBTRACT)
        with Locations((-96.274145, 62.899038184)):
            Circle(SKETCH1_R_3, mode=Mode.SUBTRACT)
        with Locations((-83.716647826, 54.694815812)):
            Circle(SKETCH1_R_3, mode=Mode.SUBTRACT)
        with Locations((-71.159150652, 46.49059344)):
            Circle(SKETCH1_R_3, mode=Mode.SUBTRACT)
        with Locations((-58.601653478, 38.286371069)):
            Circle(SKETCH1_R_3, mode=Mode.SUBTRACT)
        with Locations((-46.044156304, 30.082148697)):
            Circle(SKETCH1_R_3, mode=Mode.SUBTRACT)
        with Locations((-33.48665913, 21.877926325)):
            Circle(SKETCH1_R_3, mode=Mode.SUBTRACT)
        with Locations((-70.634461959, 90.751158581)):
            Circle(SKETCH1_R_3, mode=Mode.SUBTRACT)
        with Locations((-61.421271269, 78.91405094)):
            Circle(SKETCH1_R_3, mode=Mode.SUBTRACT)
        with Locations((-52.208080579, 67.076943299)):
            Circle(SKETCH1_R_3, mode=Mode.SUBTRACT)
        with Locations((-42.994889888, 55.239835658)):
            Circle(SKETCH1_R_3, mode=Mode.SUBTRACT)
        with Locations((-33.781699198, 43.402728017)):
            Circle(SKETCH1_R_3, mode=Mode.SUBTRACT)
        with Locations((-24.568508508, 31.565620376)):
            Circle(SKETCH1_R_3, mode=Mode.SUBTRACT)
        with Locations((-37.340438959, 108.768982796)):
            Circle(SKETCH1_R_3, mode=Mode.SUBTRACT)
        with Locations((-32.46994692, 94.58172417)):
            Circle(SKETCH1_R_3, mode=Mode.SUBTRACT)
        with Locations((-27.599454882, 80.394465545)):
            Circle(SKETCH1_R_3, mode=Mode.SUBTRACT)
        with Locations((-22.728962844, 66.207206919)):
            Circle(SKETCH1_R_3, mode=Mode.SUBTRACT)
        with Locations((-17.858470806, 52.019948294)):
            Circle(SKETCH1_R_3, mode=Mode.SUBTRACT)
        with Locations((-12.987978768, 37.832689668)):
            Circle(SKETCH1_R_3, mode=Mode.SUBTRACT)
    extrude(amount=BOSS_EXTRUDE1_DEPTH)

    # Sketch2 → Boss-Extrude2 (add)
    with BuildSketch(Plane.XY.offset(10)):
        Circle(SKETCH2_R)
        Circle(SKETCH2_R_2, mode=Mode.SUBTRACT)
    extrude(amount=BOSS_EXTRUDE2_DEPTH)

    # Sketch3 → Boss-Extrude3 (add)
    with BuildSketch(Plane.XY.offset(40)):
        Circle(SKETCH3_R)
    extrude(amount=BOSS_EXTRUDE3_DEPTH)

    # Sketch4 → Cut-Extrude2 (cut, symmetric)
    with BuildSketch(Plane(origin=(0, 0, 40), x_dir=(-1, 0, 0), z_dir=(0, 0, -1))):
        Circle(SKETCH4_R)
    extrude(amount=CUT_EXTRUDE2_DEPTH, both=True, mode=Mode.SUBTRACT)

    # Sketch5 → Boss-Extrude4 (add, two sides)
    with BuildSketch(Plane.XY) as boss_extrude4_sk:
        Circle(SKETCH5_R)
        Circle(SKETCH5_R_2, mode=Mode.SUBTRACT)
    extrude(amount=BOSS_EXTRUDE4_DEPTH)
    extrude(boss_extrude4_sk.sketch, amount=-BOSS_EXTRUDE4_DEPTH_BACK)


solid = part.part
